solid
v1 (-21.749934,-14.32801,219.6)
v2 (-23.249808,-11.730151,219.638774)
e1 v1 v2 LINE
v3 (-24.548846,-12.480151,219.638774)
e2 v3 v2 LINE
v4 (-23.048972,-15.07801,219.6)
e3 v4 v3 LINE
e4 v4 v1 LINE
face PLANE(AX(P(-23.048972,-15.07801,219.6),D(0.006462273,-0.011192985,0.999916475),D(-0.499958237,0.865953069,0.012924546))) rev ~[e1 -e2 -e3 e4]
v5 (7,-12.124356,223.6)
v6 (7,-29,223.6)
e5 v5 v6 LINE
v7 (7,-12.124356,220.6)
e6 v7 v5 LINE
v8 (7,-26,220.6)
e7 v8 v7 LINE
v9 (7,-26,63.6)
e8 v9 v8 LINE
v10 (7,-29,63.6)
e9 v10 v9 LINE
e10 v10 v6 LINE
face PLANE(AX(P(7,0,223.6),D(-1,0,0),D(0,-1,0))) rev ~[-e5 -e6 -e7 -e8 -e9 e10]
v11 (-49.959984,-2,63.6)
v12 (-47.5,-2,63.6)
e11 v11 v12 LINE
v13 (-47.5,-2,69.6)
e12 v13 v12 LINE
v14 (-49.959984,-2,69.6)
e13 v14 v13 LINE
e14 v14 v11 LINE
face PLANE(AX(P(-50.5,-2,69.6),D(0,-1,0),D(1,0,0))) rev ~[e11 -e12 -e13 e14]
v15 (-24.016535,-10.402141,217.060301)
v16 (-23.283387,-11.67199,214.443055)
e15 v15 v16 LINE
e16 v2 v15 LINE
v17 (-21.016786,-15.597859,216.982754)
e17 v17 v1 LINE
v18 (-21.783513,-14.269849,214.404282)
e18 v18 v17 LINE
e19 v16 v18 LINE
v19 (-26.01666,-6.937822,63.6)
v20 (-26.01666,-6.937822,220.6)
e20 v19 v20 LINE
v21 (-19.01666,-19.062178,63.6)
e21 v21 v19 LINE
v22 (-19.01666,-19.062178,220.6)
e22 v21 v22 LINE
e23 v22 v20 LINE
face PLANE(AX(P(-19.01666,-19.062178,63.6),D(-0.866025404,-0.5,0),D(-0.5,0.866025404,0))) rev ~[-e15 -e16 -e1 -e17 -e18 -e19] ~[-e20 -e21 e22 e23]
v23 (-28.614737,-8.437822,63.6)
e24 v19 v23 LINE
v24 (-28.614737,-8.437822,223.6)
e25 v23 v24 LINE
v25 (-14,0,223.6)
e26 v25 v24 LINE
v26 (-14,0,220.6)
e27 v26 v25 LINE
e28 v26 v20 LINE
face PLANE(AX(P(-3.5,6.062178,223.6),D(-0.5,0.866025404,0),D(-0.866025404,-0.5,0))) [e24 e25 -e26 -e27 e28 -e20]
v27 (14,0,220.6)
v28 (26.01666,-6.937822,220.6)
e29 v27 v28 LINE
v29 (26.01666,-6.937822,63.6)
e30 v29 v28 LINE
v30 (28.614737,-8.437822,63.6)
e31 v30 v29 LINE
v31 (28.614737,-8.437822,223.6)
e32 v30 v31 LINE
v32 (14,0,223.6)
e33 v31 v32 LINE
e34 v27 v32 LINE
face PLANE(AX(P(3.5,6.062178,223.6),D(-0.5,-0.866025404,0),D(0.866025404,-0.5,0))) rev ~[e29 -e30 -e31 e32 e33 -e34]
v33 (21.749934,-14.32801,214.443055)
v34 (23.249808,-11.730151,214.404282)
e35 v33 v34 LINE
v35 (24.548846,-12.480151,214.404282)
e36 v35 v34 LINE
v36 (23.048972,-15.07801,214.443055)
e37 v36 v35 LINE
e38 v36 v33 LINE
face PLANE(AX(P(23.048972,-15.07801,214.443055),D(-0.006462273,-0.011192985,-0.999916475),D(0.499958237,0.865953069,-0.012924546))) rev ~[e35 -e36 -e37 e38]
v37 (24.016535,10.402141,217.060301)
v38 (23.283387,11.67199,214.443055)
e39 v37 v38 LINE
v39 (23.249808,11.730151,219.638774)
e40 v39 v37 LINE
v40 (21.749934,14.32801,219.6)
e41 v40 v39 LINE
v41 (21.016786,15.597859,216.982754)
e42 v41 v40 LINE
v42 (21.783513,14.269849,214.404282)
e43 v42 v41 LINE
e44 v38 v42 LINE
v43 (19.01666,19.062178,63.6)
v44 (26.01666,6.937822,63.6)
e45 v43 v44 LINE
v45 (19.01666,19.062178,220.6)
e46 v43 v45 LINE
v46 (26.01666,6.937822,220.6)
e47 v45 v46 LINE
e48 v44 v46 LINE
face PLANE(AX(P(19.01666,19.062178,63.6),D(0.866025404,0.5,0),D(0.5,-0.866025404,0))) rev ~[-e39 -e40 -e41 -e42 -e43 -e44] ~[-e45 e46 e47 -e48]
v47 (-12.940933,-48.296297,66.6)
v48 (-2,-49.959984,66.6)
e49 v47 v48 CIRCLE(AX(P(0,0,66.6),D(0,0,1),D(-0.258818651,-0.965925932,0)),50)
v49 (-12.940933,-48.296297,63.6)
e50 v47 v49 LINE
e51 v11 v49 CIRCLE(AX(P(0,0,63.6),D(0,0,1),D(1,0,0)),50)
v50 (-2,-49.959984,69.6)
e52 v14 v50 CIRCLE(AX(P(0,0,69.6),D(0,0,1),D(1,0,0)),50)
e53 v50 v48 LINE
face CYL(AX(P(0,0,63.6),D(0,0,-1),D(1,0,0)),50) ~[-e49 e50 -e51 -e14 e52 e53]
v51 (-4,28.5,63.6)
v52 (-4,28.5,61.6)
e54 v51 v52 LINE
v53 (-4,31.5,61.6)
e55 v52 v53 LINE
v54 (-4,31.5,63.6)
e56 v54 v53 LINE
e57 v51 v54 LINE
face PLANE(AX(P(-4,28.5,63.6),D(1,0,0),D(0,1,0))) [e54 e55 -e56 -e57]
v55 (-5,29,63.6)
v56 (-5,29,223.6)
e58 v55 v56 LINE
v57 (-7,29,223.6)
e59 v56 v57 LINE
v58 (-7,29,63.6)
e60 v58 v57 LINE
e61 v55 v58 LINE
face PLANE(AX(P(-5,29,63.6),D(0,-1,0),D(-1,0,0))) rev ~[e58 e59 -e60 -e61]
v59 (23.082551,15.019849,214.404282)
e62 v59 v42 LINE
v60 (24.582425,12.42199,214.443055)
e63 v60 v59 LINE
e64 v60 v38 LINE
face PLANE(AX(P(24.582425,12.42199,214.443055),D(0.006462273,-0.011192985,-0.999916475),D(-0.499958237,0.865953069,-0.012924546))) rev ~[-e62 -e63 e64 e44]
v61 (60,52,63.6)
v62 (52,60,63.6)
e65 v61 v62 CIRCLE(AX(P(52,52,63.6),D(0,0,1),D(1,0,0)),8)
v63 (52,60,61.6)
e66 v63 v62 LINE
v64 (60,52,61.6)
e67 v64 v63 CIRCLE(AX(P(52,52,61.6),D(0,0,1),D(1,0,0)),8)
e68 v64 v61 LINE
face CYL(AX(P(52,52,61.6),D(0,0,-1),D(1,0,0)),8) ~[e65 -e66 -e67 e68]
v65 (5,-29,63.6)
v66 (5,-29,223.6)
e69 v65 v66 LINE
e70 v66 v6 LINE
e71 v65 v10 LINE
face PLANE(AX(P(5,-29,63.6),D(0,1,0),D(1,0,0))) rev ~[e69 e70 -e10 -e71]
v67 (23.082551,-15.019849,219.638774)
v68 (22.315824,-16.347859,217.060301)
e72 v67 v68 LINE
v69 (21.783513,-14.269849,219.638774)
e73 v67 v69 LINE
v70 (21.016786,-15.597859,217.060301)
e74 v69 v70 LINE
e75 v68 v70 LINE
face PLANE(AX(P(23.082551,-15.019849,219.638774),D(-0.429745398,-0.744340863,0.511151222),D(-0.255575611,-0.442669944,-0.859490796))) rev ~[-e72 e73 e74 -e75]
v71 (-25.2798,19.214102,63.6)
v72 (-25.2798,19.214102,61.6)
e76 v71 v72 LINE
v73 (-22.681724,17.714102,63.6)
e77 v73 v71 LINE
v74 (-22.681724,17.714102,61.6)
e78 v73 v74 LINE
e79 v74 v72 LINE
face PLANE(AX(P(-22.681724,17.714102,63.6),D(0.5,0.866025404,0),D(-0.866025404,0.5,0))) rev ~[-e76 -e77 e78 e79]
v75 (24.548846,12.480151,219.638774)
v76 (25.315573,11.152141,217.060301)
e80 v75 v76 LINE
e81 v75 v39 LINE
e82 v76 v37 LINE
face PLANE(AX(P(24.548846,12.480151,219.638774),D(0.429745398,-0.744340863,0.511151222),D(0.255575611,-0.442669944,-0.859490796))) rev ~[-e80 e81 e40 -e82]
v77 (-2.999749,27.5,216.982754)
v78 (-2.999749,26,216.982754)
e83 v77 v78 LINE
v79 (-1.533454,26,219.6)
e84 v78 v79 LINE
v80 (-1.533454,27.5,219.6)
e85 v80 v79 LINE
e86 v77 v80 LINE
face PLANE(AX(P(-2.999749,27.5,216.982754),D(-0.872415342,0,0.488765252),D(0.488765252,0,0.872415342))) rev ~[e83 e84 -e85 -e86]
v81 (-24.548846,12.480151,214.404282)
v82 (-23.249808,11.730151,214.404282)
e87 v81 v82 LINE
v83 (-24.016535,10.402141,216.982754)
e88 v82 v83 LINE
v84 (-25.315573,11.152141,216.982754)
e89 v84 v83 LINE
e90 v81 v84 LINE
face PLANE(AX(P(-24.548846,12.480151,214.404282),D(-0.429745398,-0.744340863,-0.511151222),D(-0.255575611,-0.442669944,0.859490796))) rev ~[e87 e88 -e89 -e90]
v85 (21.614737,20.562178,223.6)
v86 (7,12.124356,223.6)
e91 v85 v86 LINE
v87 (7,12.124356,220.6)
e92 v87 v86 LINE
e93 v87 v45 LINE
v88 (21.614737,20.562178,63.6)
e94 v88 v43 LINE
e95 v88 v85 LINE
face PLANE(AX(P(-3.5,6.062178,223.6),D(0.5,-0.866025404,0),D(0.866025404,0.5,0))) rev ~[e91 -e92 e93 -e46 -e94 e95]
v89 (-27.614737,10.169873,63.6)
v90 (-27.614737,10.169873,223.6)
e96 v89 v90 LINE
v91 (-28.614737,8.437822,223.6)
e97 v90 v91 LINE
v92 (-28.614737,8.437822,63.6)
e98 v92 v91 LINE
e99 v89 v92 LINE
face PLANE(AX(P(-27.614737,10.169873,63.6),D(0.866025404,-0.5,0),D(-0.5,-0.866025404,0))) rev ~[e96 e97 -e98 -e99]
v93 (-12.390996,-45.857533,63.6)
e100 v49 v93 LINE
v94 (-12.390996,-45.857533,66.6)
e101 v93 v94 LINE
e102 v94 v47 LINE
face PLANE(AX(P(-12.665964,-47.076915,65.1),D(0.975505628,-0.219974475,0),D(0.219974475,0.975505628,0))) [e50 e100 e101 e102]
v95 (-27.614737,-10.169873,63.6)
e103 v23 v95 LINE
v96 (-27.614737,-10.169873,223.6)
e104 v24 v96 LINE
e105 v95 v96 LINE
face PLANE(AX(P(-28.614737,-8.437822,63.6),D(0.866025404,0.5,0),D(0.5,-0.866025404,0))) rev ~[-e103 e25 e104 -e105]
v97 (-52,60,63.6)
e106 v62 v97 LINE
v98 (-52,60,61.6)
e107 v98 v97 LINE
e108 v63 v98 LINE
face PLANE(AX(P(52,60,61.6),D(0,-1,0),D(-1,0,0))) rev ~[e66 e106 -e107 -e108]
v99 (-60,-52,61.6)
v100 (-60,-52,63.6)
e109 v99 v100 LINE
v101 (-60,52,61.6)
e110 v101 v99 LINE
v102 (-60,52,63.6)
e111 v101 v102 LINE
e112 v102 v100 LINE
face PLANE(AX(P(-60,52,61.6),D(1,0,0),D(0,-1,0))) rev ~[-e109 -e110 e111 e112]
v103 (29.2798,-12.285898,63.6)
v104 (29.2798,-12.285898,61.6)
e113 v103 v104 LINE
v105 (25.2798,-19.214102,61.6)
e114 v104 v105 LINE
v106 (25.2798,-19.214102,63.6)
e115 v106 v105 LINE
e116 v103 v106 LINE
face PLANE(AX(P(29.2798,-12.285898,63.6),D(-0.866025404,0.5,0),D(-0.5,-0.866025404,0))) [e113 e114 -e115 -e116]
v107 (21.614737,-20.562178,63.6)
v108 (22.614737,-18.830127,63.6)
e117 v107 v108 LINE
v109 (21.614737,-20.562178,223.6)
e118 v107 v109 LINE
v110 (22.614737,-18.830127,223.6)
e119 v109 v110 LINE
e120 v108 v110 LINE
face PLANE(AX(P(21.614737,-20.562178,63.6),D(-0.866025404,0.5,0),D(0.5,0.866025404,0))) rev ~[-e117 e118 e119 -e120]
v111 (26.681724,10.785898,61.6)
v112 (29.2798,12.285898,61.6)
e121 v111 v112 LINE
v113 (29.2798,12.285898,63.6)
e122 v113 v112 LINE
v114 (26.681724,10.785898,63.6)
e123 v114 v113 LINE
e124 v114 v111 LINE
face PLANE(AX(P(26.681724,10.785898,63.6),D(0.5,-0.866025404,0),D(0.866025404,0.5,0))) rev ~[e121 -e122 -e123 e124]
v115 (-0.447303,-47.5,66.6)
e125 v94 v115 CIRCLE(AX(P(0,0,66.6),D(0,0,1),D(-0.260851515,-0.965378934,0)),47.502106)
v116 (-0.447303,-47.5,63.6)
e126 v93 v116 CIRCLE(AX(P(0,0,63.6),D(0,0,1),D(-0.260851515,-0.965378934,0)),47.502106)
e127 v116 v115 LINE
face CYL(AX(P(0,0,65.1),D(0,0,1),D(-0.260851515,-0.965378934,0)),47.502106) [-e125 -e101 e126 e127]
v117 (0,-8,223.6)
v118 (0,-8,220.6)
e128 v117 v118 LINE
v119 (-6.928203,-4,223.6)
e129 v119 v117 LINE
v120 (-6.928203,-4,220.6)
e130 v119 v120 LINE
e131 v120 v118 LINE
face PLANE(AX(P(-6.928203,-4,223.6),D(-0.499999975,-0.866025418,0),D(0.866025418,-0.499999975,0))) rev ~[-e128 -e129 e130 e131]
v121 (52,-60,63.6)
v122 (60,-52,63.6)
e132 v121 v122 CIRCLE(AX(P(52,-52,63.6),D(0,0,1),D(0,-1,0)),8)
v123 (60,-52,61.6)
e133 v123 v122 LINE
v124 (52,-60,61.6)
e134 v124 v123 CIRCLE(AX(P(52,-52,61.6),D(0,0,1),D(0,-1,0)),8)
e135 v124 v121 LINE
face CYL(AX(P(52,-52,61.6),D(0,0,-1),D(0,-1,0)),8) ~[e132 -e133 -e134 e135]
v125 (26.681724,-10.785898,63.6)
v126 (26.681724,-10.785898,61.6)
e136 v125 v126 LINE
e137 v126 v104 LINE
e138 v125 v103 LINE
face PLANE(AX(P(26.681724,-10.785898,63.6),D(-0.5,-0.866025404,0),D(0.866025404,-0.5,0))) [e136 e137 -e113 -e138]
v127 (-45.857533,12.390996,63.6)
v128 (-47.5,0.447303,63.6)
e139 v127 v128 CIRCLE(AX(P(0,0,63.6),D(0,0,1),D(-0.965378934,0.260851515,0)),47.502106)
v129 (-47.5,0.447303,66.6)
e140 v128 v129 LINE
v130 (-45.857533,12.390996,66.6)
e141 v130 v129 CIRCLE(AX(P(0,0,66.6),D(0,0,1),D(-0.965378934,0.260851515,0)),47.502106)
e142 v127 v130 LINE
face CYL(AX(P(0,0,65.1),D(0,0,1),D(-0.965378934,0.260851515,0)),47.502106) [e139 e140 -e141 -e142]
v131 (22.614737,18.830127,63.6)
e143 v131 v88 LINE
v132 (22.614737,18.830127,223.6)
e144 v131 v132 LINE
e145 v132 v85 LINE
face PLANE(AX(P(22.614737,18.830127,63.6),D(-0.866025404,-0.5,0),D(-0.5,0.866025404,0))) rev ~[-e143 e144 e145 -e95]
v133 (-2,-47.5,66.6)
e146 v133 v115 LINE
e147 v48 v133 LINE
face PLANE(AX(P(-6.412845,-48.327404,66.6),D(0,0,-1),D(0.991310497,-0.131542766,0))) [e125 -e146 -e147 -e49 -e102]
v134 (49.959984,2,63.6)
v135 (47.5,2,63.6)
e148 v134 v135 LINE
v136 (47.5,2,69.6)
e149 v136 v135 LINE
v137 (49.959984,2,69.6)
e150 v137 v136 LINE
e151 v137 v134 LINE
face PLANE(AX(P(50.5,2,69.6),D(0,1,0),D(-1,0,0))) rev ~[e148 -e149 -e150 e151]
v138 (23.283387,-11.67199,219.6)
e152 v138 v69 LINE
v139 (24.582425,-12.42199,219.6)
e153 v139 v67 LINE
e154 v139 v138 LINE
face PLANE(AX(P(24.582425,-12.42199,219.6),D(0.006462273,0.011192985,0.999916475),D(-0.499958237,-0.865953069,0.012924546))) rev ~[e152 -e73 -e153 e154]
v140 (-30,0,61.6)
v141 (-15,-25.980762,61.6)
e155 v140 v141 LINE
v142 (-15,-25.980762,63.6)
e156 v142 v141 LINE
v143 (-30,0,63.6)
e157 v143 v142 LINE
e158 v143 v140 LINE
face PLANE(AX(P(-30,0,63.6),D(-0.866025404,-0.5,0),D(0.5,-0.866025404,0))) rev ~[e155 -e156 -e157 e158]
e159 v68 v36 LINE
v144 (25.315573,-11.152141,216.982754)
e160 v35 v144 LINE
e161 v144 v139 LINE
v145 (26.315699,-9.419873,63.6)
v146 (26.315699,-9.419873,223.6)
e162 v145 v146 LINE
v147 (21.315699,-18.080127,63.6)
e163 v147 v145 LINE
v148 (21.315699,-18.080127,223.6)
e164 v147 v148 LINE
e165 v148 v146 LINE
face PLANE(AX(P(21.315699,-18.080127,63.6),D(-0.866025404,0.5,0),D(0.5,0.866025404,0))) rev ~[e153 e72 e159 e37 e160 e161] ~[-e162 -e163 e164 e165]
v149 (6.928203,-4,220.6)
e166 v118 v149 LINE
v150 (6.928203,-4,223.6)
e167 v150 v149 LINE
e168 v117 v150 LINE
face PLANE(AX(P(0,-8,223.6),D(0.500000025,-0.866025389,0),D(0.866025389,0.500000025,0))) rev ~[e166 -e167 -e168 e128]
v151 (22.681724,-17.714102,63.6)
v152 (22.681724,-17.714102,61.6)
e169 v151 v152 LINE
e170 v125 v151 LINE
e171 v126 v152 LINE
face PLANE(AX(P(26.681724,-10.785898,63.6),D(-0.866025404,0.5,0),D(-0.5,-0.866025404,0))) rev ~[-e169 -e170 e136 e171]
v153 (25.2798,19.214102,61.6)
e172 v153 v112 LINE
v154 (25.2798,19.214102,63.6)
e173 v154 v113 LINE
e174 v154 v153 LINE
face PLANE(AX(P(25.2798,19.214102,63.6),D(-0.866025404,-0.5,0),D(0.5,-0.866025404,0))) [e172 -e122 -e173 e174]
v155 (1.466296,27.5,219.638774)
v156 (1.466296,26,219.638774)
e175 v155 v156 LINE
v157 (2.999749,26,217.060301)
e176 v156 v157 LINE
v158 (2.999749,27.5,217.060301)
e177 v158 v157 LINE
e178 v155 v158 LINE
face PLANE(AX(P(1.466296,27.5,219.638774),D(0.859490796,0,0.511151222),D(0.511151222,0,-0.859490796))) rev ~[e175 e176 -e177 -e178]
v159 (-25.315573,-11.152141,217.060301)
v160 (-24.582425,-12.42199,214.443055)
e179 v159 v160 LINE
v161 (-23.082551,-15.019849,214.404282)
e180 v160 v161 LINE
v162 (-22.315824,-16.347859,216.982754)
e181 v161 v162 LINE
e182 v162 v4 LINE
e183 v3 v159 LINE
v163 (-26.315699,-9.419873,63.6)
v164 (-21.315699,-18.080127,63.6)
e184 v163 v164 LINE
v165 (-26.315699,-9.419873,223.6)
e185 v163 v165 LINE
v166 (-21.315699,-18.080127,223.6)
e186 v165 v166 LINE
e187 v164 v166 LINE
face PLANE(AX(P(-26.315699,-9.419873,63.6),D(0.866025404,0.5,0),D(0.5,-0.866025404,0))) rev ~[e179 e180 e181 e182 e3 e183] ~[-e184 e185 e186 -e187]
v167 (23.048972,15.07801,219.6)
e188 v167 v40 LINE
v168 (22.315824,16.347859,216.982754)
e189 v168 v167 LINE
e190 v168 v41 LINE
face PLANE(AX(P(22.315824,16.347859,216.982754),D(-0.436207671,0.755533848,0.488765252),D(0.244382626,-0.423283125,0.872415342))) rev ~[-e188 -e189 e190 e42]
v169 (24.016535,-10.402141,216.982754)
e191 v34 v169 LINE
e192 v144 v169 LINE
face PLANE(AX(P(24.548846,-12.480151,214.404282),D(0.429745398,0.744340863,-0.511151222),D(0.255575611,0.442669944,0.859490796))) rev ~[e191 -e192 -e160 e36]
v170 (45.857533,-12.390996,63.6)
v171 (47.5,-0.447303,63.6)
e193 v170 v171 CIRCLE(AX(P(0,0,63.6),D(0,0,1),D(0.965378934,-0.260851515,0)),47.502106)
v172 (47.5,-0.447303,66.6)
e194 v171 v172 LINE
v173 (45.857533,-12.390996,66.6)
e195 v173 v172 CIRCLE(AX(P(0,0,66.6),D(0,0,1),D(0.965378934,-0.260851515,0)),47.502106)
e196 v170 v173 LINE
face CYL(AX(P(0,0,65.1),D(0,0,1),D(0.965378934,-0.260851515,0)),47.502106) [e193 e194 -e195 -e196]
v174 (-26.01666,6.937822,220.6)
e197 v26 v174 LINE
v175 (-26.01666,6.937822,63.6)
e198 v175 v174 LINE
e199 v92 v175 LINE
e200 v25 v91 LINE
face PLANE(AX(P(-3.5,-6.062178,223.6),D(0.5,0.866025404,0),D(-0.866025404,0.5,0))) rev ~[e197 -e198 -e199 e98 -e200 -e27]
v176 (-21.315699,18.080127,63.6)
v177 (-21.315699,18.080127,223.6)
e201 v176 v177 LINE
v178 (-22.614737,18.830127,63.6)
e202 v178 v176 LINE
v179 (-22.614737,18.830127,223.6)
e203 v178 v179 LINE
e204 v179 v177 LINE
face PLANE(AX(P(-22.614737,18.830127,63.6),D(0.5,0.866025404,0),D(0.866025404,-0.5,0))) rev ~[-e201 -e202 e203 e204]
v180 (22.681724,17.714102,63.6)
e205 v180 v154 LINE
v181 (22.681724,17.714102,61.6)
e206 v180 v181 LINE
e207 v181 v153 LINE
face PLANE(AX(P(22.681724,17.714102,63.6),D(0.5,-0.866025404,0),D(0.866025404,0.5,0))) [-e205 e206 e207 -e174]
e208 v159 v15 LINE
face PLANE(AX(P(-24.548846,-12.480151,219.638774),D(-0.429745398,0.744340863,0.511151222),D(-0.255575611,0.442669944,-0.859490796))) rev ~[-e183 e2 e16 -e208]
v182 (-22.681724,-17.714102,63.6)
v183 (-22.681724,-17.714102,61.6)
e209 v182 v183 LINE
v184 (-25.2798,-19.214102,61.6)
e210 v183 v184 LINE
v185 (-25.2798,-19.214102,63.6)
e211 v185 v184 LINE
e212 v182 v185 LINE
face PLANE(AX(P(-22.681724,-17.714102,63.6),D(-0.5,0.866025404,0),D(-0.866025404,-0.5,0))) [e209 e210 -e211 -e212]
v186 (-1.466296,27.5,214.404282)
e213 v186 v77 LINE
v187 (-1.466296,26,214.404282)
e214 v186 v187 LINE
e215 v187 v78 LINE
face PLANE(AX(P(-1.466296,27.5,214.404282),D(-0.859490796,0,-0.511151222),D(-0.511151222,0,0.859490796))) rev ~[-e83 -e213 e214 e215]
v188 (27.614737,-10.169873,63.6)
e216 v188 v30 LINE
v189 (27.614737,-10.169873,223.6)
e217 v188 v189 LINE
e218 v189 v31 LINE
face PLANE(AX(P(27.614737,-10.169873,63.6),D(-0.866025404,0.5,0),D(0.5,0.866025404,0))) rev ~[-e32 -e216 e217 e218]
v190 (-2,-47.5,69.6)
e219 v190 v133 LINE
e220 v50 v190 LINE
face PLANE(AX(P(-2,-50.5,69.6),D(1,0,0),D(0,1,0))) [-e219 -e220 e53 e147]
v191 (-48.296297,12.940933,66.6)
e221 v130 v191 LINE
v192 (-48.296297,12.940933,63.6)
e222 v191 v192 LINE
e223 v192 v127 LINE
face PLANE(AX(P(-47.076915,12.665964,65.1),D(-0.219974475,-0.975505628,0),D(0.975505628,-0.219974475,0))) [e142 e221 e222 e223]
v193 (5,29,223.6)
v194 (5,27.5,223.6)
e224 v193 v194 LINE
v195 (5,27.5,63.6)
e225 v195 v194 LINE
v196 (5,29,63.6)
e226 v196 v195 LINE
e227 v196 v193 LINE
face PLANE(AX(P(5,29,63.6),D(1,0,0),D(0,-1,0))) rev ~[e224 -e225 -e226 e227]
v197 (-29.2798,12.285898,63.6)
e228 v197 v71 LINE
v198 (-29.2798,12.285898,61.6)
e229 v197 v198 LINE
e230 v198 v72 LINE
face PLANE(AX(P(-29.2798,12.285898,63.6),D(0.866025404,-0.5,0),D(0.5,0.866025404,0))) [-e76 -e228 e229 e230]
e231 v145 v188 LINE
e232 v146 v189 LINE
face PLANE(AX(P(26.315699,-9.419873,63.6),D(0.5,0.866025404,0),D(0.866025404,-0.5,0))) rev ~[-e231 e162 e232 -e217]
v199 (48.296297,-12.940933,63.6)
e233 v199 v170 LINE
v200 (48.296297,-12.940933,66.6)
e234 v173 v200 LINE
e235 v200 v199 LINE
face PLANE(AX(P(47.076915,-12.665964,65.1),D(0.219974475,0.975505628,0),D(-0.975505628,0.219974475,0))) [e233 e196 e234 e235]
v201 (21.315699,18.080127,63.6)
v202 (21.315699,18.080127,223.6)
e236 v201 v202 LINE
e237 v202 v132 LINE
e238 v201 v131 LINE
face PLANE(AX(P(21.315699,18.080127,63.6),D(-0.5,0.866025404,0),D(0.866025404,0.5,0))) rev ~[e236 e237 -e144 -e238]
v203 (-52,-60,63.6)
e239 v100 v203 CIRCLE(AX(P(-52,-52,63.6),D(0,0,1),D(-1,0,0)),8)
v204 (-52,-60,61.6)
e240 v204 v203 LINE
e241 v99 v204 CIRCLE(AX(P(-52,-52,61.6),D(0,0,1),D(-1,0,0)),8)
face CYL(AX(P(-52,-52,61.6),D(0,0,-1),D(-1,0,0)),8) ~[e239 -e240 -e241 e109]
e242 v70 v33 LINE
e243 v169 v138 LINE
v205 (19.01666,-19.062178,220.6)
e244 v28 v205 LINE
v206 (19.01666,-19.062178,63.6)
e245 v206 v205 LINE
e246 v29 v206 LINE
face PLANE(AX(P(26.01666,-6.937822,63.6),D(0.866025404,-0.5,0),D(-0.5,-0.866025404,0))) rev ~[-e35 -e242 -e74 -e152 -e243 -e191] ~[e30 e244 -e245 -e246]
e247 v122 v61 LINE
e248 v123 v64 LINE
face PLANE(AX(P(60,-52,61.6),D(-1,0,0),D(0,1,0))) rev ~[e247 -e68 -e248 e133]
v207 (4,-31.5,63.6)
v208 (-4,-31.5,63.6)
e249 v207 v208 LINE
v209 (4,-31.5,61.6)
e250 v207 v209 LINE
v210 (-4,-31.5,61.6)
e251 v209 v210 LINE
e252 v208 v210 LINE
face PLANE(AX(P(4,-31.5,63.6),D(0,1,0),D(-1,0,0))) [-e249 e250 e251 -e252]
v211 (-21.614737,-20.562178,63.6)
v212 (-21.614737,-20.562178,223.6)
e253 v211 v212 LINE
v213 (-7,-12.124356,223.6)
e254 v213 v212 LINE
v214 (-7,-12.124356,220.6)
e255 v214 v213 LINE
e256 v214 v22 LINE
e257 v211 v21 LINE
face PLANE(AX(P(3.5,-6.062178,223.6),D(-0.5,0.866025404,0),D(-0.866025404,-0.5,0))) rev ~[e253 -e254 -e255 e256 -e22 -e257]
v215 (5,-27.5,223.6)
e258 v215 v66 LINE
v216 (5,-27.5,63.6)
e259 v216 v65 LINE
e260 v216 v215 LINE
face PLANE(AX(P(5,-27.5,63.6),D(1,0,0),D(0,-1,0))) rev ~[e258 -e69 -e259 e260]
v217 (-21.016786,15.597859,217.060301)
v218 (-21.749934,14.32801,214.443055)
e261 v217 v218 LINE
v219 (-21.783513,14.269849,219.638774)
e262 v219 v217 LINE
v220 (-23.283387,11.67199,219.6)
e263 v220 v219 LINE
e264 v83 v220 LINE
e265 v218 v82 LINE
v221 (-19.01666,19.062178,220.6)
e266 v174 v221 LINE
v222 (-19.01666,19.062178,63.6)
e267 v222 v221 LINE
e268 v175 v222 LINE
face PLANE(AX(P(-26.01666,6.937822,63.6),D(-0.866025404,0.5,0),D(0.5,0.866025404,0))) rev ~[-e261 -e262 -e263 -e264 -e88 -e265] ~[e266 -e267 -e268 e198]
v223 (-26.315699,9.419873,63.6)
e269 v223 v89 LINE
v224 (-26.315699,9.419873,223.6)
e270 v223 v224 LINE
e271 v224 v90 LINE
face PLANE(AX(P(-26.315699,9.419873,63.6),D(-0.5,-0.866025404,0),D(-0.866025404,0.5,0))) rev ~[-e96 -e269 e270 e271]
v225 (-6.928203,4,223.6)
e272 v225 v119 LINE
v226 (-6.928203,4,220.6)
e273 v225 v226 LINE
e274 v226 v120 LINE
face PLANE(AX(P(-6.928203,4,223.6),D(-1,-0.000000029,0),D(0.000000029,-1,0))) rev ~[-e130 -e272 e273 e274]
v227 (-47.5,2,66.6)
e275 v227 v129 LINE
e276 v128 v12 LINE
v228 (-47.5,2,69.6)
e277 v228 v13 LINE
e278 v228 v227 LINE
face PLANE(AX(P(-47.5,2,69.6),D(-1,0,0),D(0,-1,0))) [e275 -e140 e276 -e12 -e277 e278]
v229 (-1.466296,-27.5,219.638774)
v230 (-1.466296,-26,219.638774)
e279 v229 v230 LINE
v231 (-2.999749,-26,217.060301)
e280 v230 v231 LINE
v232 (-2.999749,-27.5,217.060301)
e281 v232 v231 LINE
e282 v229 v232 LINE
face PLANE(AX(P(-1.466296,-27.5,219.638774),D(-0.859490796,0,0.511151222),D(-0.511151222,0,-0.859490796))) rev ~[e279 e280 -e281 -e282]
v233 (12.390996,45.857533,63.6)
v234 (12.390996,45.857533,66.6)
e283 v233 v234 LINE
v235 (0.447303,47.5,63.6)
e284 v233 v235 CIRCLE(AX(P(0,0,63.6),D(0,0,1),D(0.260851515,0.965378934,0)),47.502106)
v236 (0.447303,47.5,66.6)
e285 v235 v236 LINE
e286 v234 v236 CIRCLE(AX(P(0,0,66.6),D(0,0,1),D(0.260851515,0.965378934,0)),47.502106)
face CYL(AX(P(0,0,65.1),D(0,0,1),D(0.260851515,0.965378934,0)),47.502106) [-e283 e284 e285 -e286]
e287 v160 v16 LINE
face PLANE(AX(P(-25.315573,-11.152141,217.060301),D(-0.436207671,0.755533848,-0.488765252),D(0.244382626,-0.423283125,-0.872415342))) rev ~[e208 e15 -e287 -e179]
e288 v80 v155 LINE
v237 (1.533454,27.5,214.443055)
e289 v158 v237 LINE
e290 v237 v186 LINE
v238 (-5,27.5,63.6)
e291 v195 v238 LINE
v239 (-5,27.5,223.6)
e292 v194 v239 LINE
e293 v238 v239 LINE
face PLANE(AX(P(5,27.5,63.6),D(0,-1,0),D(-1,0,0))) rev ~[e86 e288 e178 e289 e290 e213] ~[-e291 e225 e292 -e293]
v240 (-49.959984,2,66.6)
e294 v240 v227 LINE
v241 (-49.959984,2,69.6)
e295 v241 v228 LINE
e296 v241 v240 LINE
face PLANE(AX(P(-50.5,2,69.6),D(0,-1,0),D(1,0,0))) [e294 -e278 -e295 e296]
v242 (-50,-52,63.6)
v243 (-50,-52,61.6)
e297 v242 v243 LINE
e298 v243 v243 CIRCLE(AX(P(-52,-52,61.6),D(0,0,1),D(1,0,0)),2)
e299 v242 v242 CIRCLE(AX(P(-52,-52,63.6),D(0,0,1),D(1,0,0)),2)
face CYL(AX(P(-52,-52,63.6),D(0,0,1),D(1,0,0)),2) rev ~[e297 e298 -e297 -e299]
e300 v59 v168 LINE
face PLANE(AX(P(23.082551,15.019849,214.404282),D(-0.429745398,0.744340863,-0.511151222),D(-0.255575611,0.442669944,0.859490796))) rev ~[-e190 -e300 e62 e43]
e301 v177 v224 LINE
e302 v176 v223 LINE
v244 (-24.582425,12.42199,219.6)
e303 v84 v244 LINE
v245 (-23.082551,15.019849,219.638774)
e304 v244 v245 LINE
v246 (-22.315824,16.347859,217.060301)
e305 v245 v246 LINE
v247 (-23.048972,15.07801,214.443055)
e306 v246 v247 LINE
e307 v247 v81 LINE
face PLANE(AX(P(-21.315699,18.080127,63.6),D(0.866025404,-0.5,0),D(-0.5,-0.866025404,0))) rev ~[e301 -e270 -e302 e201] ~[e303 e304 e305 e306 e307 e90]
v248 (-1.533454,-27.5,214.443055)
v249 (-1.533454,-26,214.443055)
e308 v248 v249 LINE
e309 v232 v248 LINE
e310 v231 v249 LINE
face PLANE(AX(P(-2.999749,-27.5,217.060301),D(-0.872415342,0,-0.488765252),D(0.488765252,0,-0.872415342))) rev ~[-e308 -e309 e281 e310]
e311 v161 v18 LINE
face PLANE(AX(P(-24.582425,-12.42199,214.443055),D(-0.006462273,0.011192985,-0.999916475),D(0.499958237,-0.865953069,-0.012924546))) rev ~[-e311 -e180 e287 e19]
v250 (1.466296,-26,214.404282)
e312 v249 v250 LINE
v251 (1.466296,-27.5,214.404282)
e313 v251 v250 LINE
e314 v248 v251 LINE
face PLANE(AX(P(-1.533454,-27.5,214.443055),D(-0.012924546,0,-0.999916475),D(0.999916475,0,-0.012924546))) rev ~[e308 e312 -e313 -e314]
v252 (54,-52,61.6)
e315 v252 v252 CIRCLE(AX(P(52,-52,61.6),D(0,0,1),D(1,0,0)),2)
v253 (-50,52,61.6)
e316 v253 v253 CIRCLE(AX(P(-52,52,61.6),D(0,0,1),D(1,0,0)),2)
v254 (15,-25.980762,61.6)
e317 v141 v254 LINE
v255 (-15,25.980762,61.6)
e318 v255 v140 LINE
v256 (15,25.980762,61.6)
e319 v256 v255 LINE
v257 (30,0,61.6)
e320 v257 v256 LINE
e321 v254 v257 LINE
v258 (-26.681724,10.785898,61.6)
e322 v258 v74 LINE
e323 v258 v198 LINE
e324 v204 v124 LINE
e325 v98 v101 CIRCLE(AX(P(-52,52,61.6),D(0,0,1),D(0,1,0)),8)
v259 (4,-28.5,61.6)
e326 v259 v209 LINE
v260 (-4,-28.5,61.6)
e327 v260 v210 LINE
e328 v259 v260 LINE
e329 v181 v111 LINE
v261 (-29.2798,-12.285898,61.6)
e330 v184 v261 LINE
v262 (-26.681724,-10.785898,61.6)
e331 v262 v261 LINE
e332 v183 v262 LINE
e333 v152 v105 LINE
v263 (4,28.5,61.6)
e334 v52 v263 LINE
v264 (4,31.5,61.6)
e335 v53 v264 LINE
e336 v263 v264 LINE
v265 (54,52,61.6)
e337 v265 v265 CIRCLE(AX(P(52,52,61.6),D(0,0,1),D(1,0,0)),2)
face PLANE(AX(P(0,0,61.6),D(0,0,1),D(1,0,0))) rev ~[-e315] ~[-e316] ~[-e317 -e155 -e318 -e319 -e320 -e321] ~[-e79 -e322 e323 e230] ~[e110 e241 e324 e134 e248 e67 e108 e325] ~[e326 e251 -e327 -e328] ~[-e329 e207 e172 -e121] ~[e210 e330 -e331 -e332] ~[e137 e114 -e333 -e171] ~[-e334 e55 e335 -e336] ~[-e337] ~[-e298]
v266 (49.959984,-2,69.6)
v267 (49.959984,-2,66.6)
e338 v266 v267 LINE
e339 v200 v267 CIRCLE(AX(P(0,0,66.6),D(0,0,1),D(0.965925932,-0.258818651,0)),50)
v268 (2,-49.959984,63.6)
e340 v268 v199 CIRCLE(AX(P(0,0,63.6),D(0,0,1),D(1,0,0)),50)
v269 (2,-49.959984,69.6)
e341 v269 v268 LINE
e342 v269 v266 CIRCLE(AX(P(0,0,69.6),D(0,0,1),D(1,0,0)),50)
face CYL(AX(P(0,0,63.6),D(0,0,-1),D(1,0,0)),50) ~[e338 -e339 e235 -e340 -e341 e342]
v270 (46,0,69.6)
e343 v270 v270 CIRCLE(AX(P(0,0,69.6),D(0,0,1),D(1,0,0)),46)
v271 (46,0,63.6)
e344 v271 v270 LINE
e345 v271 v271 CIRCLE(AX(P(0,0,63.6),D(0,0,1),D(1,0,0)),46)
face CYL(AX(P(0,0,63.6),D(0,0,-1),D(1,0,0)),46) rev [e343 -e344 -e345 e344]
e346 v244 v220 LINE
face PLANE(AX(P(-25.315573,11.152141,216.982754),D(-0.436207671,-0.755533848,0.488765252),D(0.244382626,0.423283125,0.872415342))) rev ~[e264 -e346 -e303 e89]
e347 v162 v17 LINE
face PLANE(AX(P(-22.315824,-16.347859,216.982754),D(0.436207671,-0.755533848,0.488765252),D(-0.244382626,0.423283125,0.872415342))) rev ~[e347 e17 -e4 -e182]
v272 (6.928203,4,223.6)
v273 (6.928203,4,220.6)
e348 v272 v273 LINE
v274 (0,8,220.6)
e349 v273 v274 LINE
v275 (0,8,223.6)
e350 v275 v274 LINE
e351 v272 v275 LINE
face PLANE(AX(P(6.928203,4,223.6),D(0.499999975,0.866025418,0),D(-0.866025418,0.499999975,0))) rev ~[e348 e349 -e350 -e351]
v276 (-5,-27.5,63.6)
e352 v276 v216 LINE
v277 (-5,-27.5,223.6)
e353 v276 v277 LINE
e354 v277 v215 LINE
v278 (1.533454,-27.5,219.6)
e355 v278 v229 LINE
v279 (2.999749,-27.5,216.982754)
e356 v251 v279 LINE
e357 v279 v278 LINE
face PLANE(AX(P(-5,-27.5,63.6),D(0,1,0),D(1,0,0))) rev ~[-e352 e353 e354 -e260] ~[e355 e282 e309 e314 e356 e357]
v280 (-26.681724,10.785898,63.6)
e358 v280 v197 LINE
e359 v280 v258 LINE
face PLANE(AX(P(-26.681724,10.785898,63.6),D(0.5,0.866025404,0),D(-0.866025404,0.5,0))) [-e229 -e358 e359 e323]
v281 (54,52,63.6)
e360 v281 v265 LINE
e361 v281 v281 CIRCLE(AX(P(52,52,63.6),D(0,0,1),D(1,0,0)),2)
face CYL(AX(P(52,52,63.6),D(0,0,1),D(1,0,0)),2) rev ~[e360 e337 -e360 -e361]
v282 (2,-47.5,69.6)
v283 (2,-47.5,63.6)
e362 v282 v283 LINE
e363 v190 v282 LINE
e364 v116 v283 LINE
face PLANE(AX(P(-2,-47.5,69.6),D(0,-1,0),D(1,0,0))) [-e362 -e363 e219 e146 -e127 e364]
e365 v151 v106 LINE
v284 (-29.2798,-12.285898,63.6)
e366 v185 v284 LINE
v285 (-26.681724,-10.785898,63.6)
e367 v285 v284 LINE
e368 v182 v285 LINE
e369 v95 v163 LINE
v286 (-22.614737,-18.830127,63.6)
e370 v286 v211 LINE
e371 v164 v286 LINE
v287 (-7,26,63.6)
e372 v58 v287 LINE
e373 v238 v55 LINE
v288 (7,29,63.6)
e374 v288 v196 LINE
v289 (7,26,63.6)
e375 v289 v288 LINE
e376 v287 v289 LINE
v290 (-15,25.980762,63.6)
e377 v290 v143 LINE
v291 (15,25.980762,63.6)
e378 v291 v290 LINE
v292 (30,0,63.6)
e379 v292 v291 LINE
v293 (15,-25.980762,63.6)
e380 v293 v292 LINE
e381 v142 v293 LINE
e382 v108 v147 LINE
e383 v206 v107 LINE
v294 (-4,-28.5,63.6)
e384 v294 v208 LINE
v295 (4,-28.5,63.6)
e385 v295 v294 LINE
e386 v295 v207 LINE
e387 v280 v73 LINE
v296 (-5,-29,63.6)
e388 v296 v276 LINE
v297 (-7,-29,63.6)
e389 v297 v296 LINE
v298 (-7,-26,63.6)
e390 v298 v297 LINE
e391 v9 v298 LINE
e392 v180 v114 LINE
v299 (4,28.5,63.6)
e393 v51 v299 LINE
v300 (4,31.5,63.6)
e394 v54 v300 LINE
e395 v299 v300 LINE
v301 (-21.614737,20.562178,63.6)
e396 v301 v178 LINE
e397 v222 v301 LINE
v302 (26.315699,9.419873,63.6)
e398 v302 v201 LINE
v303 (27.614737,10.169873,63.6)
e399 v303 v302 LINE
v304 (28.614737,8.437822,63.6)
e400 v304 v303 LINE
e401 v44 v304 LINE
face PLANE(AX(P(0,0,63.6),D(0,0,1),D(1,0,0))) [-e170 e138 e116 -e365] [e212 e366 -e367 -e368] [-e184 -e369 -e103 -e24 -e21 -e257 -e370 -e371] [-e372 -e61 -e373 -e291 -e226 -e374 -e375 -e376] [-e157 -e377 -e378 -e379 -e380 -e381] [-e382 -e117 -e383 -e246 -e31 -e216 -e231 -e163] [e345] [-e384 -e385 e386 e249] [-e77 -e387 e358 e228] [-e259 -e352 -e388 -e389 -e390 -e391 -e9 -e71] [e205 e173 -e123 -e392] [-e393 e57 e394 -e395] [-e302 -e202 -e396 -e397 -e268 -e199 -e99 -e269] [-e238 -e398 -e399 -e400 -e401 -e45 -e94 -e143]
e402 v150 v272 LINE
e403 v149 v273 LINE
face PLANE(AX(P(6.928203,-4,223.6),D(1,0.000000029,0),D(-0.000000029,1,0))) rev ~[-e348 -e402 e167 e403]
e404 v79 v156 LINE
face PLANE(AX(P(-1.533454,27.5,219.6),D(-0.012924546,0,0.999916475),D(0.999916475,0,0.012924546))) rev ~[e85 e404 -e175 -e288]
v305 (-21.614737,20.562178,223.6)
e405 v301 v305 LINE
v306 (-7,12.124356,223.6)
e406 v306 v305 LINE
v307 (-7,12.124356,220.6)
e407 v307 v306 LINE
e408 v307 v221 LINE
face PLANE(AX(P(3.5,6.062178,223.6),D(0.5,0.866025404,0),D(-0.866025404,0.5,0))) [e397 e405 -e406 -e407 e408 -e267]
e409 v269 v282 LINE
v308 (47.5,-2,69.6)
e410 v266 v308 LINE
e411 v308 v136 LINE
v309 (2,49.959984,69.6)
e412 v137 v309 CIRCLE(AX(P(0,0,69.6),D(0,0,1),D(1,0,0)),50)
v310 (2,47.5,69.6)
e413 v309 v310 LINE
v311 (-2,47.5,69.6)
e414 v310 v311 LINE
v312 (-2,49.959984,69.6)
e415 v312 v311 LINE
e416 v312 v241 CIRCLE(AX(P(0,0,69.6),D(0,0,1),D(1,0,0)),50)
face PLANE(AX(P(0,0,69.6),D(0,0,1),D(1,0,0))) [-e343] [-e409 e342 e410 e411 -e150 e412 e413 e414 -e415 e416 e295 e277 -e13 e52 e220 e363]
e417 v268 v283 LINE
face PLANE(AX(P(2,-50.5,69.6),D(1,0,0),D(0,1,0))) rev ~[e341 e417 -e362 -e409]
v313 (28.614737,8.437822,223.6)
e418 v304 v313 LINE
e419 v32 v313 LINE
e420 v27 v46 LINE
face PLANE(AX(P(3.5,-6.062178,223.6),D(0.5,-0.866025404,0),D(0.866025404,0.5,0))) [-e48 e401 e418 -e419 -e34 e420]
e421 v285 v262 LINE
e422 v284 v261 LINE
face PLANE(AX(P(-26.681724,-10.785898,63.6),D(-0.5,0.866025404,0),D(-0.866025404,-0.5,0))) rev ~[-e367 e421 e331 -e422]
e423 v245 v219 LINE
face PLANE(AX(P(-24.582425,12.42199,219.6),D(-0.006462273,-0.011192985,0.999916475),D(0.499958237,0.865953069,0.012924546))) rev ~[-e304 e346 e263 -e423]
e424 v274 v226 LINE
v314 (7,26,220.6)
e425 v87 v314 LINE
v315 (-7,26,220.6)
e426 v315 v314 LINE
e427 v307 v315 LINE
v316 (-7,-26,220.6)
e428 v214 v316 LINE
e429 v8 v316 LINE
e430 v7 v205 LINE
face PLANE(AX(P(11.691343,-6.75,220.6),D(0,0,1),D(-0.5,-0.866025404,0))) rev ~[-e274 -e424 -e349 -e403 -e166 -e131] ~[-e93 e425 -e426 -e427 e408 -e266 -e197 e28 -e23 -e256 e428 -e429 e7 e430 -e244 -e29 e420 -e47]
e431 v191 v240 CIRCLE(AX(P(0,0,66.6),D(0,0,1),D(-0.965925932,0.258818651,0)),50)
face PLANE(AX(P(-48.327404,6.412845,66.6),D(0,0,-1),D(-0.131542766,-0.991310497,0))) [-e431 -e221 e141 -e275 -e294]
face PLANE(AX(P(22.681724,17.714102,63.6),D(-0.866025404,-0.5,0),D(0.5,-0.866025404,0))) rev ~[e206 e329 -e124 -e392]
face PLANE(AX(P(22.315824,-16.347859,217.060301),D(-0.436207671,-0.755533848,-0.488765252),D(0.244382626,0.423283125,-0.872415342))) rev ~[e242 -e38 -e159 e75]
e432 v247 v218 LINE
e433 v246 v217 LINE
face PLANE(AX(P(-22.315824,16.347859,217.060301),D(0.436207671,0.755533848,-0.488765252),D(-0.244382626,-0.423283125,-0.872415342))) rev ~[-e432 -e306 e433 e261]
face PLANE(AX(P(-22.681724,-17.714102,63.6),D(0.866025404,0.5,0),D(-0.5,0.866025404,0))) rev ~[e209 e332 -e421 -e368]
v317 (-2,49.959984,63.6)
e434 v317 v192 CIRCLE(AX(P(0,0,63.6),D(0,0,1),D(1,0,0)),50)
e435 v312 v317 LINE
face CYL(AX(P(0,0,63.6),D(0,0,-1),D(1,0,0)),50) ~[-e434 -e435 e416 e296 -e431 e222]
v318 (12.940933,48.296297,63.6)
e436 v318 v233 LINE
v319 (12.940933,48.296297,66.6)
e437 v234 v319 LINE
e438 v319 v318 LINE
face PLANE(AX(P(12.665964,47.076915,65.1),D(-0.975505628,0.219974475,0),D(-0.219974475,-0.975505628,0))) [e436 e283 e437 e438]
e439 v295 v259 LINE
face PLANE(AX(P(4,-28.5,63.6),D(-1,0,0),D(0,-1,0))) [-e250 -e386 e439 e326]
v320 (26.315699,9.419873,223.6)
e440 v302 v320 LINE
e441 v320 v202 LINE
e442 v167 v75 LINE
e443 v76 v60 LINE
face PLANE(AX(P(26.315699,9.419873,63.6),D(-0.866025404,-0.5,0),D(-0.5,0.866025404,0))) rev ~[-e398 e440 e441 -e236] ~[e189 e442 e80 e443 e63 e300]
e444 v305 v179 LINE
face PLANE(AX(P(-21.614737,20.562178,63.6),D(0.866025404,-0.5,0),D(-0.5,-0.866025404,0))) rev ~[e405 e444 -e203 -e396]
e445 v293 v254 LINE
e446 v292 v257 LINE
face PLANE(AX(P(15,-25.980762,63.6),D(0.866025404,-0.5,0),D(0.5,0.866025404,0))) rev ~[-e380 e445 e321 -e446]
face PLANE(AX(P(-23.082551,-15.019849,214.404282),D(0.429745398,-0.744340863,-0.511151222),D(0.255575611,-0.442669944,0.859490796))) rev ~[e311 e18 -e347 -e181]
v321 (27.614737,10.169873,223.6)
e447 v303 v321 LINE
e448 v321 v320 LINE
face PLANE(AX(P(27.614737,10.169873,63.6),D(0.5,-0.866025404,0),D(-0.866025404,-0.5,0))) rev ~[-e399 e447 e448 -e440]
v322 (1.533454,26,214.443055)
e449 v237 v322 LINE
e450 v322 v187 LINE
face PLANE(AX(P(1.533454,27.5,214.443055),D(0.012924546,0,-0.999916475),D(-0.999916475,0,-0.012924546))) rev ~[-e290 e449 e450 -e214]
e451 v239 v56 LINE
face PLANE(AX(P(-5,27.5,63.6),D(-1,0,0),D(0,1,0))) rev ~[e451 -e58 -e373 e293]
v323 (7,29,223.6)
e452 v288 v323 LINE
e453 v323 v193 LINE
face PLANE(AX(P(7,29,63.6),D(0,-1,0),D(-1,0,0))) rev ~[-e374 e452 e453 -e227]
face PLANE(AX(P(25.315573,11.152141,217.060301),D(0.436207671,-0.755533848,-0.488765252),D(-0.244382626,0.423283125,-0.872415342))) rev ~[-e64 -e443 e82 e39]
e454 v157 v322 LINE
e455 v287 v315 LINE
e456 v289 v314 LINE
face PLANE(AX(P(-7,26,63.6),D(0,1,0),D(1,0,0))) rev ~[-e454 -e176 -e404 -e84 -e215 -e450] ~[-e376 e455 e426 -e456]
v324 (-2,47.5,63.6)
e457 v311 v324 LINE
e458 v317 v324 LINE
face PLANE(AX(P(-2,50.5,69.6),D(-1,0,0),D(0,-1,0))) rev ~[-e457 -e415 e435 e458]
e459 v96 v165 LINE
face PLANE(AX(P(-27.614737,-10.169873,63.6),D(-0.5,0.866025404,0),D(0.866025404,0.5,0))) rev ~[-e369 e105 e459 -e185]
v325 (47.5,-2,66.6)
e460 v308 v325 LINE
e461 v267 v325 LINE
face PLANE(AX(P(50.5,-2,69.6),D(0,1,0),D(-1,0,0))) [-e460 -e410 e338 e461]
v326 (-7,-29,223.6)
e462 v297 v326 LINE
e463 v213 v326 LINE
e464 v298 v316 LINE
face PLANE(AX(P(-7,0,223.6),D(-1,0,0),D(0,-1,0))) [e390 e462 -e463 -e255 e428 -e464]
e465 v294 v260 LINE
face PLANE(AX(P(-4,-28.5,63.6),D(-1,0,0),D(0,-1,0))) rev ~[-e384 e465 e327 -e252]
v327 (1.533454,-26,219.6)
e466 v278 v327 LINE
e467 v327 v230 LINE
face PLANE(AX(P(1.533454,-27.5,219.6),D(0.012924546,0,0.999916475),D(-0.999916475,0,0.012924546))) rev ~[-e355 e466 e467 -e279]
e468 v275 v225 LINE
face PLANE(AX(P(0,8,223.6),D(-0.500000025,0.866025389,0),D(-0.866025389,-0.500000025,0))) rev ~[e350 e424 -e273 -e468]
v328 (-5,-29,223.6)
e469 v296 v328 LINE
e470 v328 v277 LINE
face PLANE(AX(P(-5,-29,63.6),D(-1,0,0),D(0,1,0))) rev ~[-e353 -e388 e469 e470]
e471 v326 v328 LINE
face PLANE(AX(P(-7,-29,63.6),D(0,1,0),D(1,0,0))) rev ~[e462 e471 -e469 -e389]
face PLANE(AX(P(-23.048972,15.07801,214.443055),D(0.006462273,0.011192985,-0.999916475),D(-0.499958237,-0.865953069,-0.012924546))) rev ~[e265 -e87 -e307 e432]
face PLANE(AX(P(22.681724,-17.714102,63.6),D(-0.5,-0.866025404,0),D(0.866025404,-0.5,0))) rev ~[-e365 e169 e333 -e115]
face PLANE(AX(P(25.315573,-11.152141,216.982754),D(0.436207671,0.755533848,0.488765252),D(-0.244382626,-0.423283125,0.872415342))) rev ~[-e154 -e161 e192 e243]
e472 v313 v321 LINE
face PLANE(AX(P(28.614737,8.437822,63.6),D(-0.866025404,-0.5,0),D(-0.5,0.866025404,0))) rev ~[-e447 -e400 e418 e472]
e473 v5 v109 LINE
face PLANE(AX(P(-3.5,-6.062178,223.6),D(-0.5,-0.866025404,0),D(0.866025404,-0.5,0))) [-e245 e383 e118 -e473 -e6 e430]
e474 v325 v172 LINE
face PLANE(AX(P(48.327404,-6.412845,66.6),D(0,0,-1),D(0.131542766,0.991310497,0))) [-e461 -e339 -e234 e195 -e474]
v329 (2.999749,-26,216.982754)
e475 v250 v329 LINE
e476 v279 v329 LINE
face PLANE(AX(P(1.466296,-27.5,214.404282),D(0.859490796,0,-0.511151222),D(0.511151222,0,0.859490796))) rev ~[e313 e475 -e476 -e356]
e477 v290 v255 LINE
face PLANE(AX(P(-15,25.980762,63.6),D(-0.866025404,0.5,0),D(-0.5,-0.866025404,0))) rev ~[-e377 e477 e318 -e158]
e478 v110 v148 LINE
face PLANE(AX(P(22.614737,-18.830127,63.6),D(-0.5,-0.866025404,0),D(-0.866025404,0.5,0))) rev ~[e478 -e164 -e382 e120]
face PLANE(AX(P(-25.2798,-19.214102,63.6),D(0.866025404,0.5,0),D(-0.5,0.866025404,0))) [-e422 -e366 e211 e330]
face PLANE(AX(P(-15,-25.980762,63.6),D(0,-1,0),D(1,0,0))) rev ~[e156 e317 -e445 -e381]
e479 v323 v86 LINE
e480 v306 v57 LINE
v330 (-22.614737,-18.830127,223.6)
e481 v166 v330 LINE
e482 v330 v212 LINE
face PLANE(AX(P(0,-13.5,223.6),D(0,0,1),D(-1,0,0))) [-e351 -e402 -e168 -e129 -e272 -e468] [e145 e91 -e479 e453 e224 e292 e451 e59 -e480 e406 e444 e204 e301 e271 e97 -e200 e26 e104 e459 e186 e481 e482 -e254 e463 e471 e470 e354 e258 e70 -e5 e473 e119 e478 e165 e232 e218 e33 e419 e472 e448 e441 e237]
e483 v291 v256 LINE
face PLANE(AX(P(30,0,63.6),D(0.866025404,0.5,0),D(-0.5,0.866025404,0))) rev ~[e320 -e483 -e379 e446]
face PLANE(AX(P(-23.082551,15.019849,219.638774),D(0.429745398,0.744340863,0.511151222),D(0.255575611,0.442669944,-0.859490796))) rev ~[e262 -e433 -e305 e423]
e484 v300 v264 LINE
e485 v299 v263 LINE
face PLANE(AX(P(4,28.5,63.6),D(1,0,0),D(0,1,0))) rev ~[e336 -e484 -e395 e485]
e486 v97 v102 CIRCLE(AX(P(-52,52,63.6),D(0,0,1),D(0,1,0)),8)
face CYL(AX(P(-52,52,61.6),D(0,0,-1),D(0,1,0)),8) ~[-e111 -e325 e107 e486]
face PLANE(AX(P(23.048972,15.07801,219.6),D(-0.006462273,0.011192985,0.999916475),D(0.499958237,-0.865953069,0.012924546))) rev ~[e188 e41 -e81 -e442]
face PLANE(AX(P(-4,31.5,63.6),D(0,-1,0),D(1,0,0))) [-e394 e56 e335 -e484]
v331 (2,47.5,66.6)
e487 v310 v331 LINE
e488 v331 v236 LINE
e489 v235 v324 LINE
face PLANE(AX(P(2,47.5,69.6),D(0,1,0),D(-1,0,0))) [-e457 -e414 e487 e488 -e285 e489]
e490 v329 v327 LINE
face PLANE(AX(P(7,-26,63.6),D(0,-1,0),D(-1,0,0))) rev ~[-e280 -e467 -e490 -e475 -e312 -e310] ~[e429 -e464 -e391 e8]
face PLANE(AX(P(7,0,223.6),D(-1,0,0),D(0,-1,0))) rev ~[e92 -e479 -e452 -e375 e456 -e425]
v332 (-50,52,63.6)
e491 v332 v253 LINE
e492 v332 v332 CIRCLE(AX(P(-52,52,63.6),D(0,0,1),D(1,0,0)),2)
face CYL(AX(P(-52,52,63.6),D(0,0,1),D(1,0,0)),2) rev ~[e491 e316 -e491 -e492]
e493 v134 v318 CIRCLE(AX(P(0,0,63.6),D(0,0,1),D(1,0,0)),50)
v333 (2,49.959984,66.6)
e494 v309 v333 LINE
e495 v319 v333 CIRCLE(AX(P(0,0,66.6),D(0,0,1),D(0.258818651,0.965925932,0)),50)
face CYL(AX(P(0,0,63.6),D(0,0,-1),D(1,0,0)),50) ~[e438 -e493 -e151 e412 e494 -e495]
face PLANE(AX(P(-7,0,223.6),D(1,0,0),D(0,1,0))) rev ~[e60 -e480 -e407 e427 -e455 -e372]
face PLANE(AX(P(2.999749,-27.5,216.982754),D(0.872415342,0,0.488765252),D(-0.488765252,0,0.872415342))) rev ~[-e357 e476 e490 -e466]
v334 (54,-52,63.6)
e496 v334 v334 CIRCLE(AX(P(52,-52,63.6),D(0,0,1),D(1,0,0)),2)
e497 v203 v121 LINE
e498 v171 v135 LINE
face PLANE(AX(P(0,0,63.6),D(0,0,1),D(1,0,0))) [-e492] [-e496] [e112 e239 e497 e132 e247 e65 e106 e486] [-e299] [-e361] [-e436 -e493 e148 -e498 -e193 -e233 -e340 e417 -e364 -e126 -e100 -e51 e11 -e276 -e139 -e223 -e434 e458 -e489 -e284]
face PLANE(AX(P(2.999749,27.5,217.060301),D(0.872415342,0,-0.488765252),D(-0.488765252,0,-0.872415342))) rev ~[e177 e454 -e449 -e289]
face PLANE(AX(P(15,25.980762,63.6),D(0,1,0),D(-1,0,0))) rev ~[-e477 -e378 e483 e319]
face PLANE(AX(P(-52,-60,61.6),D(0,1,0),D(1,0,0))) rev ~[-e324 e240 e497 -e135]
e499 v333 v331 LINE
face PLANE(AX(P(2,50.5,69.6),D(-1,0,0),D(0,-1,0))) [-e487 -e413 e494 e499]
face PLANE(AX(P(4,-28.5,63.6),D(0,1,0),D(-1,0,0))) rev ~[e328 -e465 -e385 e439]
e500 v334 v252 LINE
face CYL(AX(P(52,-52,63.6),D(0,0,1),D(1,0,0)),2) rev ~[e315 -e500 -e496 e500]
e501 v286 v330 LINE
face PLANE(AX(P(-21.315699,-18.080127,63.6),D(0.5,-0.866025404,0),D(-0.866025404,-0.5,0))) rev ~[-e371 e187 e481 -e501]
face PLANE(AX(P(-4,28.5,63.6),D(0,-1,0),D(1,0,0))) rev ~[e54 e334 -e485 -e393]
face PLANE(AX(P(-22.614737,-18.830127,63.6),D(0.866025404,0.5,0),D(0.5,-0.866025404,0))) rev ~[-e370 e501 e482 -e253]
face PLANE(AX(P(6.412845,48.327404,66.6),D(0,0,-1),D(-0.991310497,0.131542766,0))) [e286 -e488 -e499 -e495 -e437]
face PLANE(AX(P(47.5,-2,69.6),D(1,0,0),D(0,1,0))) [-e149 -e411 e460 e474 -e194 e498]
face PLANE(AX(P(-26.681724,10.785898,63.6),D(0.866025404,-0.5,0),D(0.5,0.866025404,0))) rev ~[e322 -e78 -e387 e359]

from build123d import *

# Parameters (mm, degrees)
PAD009_DEPTH          = 2
SKETCH015_R           = 2
POCKET005_DEPTH       = 2
POCKET006_DEPTH       = 2
PAD010_DEPTH          = 160
POLARPATTERN001_COUNT = 6
SKETCH018_W           = 8
SKETCH018_H           = 3
POCKET007_DEPTH       = 2
POLARPATTERN002_COUNT = 6
SKETCH019_W           = 14
SKETCH019_H           = 27
PAD011_DEPTH          = 3
POLARPATTERN003_COUNT = 6
POCKET008_DEPTH       = 5
POLARPATTERN004_COUNT = 6
SKETCH021_R           = 50
SKETCH021_R_2         = 46
PAD012_DEPTH          = 6
SKETCH022_W           = 4
SKETCH022_H           = 3
POCKET009_DEPTH       = 6
POLARPATTERN005_COUNT = 4
SKETCH023_W           = 2.5
SKETCH023_H           = 3
POLARPATTERN006_COUNT = 4
POCKET010_DEPTH       = 5


with BuildPart() as part:
    # Sketch014 → Pad009 (new body)
    with BuildSketch(Plane.XY):
        with BuildLine():
            Line((-52, -60), (52, -60))
            ThreePointArc((52, -60), (57.6568542495, -57.6568542495), (60, -52))
            Line((60, -52), (60, 52))
            ThreePointArc((60, 52), (57.6568542495, 57.6568542495), (52, 60))
            Line((52, 60), (-52, 60))
            ThreePointArc((-52, 60), (-57.6568542495, 57.6568542495), (-60, 52))
            Line((-60, 52), (-60, -52))
            ThreePointArc((-60, -52), (-57.6568542495, -57.6568542495), (-52, -60))
        make_face()
    extrude(amount=PAD009_DEPTH)

    # Sketch015 (on Face10 of Pad009) → Pocket005 (cut)
    with BuildSketch(Plane.XY.offset(2)):
        with Locations((-52, 52)):
            Circle(SKETCH015_R)
        with Locations((52, 52)):
            Circle(SKETCH015_R)
        with Locations((52, -52)):
            Circle(SKETCH015_R)
        with Locations((-52, -52)):
            Circle(SKETCH015_R)
    extrude(amount=-POCKET005_DEPTH, mode=Mode.SUBTRACT)

    # Sketch016 (on Face5 of Pocket005) → Pocket006 (cut)
    with BuildSketch(Plane.XY.offset(2)):
        Polygon((30, 0), (15, 25.9807621135), (-15, 25.9807621135), (-30, 0), (-15, -25.9807621135), (15, -25.9807621135), align=None)
    extrude(amount=-POCKET006_DEPTH, mode=Mode.SUBTRACT)

    # Sketch017 (on Face5 of Pocket006) → Pad010 (join)
    with BuildSketch(Plane.XY.offset(2)):
        Polygon((-7, 26), (7, 26), (7, 29), (5, 29), (5, 27.5), (-5, 27.5), (-5, 29), (-7, 29), align=None)
    pad010 = extrude(amount=PAD010_DEPTH)

    # PolarPattern001: Pad010 ×6 about axis
    polarpattern001_axis = Axis((0, 0, 2), (0, 0, 1))
    for i in range(1, POLARPATTERN001_COUNT):
        add(pad010.rotate(polarpattern001_axis, i * 360 / POLARPATTERN001_COUNT))

    # Sketch018 (on Face5 of PolarPattern001) → Pocket007 (cut)
    with BuildSketch(Plane.XY.offset(2)):
        with Locations((0, 30)):
            Rectangle(SKETCH018_W, SKETCH018_H)
    pocket007 = extrude(amount=-POCKET007_DEPTH, mode=Mode.SUBTRACT)

    # PolarPattern002: Pocket007 ×6 about axis
    polarpattern002_axis = Axis((0, 0, 2), (0, 0, 1))
    for i in range(1, POLARPATTERN002_COUNT):
        add(pocket007.rotate(polarpattern002_axis, i * 360 / POLARPATTERN002_COUNT), mode=Mode.SUBTRACT)

    # Sketch019 (on Face98 of PolarPattern002) → Pad011 (join)
    with BuildSketch(Plane.XY.offset(162)):
        with Locations((0, 13.5)):
            Rectangle(SKETCH019_W, SKETCH019_H)
    pad011 = extrude(amount=-PAD011_DEPTH)

    # PolarPattern003: Pad011 ×6 about axis
    polarpattern003_axis = Axis((0, 0, 162), (0, 0, 1))
    for i in range(1, POLARPATTERN003_COUNT):
        add(pad011.rotate(polarpattern003_axis, i * 360 / POLARPATTERN003_COUNT))

    # Sketch020 (on Face71 of PolarPattern003) → Pocket008 (cut)
    with BuildSketch(Plane(origin=(23.8156986041, 13.75, 0), x_dir=(-0.5, 0.8660254038, 0), z_dir=(0.8660254038, 0.5, 0))):
        Polygon((2.9997494237, 155.3827539752), (1.5334536671, 158), (-1.4662957566, 158.0387736377), (-2.9997494237, 155.4603012506), (-1.5334536671, 152.8430552259), (1.4662957566, 152.8042815882), align=None)
    pocket008 = extrude(amount=-POCKET008_DEPTH, mode=Mode.SUBTRACT)

    # PolarPattern004: Pocket008 ×6 about axis
    polarpattern004_axis = Axis((0, 0, 0), (0, 0, 1))
    for i in range(1, POLARPATTERN004_COUNT):
        add(pocket008.rotate(polarpattern004_axis, i * 360 / POLARPATTERN004_COUNT), mode=Mode.SUBTRACT)

    # Sketch021 (on Face5 of PolarPattern004) → Pad012 (join)
    with BuildSketch(Plane.XY.offset(2)):
        Circle(SKETCH021_R)
        Circle(SKETCH021_R_2, mode=Mode.SUBTRACT)
    extrude(amount=PAD012_DEPTH)

    # Sketch022 (on Face47 of Pad012) → Pocket009 (cut)
    with BuildSketch(Plane.XY.offset(8)):
        with Locations((0, -49)):
            Rectangle(SKETCH022_W, SKETCH022_H)
    pocket009 = extrude(amount=-POCKET009_DEPTH, mode=Mode.SUBTRACT)

    # PolarPattern005: Pocket009 ×4 about axis
    polarpattern005_axis = Axis((0, 0, 8), (0, 0, 1))
    for i in range(1, POLARPATTERN005_COUNT):
        add(pocket009.rotate(polarpattern005_axis, i * 360 / POLARPATTERN005_COUNT), mode=Mode.SUBTRACT)

    # SubtractivePipe: sweep along a path in Sketch024
    with BuildLine(Plane.XY.offset(2)) as subtractivepipe_path:
        ThreePointArc((-12.940932525, -48.2962966011), (-6.5262994853, -49.5722444018), (0, -50))
    # Sketch023 (on DatumPlane) → SubtractivePipe (sweep, cut)
    with BuildSketch(Plane.YZ.offset(-2)):
        with Locations((-48.7099839872, 3.5)):
            Rectangle(SKETCH023_W, SKETCH023_H)
    subtractivepipe = sweep(path=subtractivepipe_path.line, mode=Mode.SUBTRACT)

    # PolarPattern006: SubtractivePipe ×4 about axis
    polarpattern006_axis = Axis((0, 0, 0), (0, 0, 1))
    for i in range(1, POLARPATTERN006_COUNT):
        add(subtractivepipe.rotate(polarpattern006_axis, i * 360 / POLARPATTERN006_COUNT), mode=Mode.SUBTRACT)

    # Sketch025 (on Face123 of PolarPattern006) → Pocket010 (cut)
    with BuildSketch(Plane.XY.offset(162)):
        Polygon((6.9282031151, 4.0000001994), (-2.303e-07, 8), (-6.9282033454, 3.9999998006), (-6.9282031151, -4.0000001994), (2.303e-07, -8), (6.9282033454, -3.9999998006), align=None)
    extrude(amount=-POCKET010_DEPTH, mode=Mode.SUBTRACT)


with BuildPart() as part_1:
    # Body002 placement: moved
    add(part.part.moved(Location((0, 0, 61.6))))


solid = part_1.part
